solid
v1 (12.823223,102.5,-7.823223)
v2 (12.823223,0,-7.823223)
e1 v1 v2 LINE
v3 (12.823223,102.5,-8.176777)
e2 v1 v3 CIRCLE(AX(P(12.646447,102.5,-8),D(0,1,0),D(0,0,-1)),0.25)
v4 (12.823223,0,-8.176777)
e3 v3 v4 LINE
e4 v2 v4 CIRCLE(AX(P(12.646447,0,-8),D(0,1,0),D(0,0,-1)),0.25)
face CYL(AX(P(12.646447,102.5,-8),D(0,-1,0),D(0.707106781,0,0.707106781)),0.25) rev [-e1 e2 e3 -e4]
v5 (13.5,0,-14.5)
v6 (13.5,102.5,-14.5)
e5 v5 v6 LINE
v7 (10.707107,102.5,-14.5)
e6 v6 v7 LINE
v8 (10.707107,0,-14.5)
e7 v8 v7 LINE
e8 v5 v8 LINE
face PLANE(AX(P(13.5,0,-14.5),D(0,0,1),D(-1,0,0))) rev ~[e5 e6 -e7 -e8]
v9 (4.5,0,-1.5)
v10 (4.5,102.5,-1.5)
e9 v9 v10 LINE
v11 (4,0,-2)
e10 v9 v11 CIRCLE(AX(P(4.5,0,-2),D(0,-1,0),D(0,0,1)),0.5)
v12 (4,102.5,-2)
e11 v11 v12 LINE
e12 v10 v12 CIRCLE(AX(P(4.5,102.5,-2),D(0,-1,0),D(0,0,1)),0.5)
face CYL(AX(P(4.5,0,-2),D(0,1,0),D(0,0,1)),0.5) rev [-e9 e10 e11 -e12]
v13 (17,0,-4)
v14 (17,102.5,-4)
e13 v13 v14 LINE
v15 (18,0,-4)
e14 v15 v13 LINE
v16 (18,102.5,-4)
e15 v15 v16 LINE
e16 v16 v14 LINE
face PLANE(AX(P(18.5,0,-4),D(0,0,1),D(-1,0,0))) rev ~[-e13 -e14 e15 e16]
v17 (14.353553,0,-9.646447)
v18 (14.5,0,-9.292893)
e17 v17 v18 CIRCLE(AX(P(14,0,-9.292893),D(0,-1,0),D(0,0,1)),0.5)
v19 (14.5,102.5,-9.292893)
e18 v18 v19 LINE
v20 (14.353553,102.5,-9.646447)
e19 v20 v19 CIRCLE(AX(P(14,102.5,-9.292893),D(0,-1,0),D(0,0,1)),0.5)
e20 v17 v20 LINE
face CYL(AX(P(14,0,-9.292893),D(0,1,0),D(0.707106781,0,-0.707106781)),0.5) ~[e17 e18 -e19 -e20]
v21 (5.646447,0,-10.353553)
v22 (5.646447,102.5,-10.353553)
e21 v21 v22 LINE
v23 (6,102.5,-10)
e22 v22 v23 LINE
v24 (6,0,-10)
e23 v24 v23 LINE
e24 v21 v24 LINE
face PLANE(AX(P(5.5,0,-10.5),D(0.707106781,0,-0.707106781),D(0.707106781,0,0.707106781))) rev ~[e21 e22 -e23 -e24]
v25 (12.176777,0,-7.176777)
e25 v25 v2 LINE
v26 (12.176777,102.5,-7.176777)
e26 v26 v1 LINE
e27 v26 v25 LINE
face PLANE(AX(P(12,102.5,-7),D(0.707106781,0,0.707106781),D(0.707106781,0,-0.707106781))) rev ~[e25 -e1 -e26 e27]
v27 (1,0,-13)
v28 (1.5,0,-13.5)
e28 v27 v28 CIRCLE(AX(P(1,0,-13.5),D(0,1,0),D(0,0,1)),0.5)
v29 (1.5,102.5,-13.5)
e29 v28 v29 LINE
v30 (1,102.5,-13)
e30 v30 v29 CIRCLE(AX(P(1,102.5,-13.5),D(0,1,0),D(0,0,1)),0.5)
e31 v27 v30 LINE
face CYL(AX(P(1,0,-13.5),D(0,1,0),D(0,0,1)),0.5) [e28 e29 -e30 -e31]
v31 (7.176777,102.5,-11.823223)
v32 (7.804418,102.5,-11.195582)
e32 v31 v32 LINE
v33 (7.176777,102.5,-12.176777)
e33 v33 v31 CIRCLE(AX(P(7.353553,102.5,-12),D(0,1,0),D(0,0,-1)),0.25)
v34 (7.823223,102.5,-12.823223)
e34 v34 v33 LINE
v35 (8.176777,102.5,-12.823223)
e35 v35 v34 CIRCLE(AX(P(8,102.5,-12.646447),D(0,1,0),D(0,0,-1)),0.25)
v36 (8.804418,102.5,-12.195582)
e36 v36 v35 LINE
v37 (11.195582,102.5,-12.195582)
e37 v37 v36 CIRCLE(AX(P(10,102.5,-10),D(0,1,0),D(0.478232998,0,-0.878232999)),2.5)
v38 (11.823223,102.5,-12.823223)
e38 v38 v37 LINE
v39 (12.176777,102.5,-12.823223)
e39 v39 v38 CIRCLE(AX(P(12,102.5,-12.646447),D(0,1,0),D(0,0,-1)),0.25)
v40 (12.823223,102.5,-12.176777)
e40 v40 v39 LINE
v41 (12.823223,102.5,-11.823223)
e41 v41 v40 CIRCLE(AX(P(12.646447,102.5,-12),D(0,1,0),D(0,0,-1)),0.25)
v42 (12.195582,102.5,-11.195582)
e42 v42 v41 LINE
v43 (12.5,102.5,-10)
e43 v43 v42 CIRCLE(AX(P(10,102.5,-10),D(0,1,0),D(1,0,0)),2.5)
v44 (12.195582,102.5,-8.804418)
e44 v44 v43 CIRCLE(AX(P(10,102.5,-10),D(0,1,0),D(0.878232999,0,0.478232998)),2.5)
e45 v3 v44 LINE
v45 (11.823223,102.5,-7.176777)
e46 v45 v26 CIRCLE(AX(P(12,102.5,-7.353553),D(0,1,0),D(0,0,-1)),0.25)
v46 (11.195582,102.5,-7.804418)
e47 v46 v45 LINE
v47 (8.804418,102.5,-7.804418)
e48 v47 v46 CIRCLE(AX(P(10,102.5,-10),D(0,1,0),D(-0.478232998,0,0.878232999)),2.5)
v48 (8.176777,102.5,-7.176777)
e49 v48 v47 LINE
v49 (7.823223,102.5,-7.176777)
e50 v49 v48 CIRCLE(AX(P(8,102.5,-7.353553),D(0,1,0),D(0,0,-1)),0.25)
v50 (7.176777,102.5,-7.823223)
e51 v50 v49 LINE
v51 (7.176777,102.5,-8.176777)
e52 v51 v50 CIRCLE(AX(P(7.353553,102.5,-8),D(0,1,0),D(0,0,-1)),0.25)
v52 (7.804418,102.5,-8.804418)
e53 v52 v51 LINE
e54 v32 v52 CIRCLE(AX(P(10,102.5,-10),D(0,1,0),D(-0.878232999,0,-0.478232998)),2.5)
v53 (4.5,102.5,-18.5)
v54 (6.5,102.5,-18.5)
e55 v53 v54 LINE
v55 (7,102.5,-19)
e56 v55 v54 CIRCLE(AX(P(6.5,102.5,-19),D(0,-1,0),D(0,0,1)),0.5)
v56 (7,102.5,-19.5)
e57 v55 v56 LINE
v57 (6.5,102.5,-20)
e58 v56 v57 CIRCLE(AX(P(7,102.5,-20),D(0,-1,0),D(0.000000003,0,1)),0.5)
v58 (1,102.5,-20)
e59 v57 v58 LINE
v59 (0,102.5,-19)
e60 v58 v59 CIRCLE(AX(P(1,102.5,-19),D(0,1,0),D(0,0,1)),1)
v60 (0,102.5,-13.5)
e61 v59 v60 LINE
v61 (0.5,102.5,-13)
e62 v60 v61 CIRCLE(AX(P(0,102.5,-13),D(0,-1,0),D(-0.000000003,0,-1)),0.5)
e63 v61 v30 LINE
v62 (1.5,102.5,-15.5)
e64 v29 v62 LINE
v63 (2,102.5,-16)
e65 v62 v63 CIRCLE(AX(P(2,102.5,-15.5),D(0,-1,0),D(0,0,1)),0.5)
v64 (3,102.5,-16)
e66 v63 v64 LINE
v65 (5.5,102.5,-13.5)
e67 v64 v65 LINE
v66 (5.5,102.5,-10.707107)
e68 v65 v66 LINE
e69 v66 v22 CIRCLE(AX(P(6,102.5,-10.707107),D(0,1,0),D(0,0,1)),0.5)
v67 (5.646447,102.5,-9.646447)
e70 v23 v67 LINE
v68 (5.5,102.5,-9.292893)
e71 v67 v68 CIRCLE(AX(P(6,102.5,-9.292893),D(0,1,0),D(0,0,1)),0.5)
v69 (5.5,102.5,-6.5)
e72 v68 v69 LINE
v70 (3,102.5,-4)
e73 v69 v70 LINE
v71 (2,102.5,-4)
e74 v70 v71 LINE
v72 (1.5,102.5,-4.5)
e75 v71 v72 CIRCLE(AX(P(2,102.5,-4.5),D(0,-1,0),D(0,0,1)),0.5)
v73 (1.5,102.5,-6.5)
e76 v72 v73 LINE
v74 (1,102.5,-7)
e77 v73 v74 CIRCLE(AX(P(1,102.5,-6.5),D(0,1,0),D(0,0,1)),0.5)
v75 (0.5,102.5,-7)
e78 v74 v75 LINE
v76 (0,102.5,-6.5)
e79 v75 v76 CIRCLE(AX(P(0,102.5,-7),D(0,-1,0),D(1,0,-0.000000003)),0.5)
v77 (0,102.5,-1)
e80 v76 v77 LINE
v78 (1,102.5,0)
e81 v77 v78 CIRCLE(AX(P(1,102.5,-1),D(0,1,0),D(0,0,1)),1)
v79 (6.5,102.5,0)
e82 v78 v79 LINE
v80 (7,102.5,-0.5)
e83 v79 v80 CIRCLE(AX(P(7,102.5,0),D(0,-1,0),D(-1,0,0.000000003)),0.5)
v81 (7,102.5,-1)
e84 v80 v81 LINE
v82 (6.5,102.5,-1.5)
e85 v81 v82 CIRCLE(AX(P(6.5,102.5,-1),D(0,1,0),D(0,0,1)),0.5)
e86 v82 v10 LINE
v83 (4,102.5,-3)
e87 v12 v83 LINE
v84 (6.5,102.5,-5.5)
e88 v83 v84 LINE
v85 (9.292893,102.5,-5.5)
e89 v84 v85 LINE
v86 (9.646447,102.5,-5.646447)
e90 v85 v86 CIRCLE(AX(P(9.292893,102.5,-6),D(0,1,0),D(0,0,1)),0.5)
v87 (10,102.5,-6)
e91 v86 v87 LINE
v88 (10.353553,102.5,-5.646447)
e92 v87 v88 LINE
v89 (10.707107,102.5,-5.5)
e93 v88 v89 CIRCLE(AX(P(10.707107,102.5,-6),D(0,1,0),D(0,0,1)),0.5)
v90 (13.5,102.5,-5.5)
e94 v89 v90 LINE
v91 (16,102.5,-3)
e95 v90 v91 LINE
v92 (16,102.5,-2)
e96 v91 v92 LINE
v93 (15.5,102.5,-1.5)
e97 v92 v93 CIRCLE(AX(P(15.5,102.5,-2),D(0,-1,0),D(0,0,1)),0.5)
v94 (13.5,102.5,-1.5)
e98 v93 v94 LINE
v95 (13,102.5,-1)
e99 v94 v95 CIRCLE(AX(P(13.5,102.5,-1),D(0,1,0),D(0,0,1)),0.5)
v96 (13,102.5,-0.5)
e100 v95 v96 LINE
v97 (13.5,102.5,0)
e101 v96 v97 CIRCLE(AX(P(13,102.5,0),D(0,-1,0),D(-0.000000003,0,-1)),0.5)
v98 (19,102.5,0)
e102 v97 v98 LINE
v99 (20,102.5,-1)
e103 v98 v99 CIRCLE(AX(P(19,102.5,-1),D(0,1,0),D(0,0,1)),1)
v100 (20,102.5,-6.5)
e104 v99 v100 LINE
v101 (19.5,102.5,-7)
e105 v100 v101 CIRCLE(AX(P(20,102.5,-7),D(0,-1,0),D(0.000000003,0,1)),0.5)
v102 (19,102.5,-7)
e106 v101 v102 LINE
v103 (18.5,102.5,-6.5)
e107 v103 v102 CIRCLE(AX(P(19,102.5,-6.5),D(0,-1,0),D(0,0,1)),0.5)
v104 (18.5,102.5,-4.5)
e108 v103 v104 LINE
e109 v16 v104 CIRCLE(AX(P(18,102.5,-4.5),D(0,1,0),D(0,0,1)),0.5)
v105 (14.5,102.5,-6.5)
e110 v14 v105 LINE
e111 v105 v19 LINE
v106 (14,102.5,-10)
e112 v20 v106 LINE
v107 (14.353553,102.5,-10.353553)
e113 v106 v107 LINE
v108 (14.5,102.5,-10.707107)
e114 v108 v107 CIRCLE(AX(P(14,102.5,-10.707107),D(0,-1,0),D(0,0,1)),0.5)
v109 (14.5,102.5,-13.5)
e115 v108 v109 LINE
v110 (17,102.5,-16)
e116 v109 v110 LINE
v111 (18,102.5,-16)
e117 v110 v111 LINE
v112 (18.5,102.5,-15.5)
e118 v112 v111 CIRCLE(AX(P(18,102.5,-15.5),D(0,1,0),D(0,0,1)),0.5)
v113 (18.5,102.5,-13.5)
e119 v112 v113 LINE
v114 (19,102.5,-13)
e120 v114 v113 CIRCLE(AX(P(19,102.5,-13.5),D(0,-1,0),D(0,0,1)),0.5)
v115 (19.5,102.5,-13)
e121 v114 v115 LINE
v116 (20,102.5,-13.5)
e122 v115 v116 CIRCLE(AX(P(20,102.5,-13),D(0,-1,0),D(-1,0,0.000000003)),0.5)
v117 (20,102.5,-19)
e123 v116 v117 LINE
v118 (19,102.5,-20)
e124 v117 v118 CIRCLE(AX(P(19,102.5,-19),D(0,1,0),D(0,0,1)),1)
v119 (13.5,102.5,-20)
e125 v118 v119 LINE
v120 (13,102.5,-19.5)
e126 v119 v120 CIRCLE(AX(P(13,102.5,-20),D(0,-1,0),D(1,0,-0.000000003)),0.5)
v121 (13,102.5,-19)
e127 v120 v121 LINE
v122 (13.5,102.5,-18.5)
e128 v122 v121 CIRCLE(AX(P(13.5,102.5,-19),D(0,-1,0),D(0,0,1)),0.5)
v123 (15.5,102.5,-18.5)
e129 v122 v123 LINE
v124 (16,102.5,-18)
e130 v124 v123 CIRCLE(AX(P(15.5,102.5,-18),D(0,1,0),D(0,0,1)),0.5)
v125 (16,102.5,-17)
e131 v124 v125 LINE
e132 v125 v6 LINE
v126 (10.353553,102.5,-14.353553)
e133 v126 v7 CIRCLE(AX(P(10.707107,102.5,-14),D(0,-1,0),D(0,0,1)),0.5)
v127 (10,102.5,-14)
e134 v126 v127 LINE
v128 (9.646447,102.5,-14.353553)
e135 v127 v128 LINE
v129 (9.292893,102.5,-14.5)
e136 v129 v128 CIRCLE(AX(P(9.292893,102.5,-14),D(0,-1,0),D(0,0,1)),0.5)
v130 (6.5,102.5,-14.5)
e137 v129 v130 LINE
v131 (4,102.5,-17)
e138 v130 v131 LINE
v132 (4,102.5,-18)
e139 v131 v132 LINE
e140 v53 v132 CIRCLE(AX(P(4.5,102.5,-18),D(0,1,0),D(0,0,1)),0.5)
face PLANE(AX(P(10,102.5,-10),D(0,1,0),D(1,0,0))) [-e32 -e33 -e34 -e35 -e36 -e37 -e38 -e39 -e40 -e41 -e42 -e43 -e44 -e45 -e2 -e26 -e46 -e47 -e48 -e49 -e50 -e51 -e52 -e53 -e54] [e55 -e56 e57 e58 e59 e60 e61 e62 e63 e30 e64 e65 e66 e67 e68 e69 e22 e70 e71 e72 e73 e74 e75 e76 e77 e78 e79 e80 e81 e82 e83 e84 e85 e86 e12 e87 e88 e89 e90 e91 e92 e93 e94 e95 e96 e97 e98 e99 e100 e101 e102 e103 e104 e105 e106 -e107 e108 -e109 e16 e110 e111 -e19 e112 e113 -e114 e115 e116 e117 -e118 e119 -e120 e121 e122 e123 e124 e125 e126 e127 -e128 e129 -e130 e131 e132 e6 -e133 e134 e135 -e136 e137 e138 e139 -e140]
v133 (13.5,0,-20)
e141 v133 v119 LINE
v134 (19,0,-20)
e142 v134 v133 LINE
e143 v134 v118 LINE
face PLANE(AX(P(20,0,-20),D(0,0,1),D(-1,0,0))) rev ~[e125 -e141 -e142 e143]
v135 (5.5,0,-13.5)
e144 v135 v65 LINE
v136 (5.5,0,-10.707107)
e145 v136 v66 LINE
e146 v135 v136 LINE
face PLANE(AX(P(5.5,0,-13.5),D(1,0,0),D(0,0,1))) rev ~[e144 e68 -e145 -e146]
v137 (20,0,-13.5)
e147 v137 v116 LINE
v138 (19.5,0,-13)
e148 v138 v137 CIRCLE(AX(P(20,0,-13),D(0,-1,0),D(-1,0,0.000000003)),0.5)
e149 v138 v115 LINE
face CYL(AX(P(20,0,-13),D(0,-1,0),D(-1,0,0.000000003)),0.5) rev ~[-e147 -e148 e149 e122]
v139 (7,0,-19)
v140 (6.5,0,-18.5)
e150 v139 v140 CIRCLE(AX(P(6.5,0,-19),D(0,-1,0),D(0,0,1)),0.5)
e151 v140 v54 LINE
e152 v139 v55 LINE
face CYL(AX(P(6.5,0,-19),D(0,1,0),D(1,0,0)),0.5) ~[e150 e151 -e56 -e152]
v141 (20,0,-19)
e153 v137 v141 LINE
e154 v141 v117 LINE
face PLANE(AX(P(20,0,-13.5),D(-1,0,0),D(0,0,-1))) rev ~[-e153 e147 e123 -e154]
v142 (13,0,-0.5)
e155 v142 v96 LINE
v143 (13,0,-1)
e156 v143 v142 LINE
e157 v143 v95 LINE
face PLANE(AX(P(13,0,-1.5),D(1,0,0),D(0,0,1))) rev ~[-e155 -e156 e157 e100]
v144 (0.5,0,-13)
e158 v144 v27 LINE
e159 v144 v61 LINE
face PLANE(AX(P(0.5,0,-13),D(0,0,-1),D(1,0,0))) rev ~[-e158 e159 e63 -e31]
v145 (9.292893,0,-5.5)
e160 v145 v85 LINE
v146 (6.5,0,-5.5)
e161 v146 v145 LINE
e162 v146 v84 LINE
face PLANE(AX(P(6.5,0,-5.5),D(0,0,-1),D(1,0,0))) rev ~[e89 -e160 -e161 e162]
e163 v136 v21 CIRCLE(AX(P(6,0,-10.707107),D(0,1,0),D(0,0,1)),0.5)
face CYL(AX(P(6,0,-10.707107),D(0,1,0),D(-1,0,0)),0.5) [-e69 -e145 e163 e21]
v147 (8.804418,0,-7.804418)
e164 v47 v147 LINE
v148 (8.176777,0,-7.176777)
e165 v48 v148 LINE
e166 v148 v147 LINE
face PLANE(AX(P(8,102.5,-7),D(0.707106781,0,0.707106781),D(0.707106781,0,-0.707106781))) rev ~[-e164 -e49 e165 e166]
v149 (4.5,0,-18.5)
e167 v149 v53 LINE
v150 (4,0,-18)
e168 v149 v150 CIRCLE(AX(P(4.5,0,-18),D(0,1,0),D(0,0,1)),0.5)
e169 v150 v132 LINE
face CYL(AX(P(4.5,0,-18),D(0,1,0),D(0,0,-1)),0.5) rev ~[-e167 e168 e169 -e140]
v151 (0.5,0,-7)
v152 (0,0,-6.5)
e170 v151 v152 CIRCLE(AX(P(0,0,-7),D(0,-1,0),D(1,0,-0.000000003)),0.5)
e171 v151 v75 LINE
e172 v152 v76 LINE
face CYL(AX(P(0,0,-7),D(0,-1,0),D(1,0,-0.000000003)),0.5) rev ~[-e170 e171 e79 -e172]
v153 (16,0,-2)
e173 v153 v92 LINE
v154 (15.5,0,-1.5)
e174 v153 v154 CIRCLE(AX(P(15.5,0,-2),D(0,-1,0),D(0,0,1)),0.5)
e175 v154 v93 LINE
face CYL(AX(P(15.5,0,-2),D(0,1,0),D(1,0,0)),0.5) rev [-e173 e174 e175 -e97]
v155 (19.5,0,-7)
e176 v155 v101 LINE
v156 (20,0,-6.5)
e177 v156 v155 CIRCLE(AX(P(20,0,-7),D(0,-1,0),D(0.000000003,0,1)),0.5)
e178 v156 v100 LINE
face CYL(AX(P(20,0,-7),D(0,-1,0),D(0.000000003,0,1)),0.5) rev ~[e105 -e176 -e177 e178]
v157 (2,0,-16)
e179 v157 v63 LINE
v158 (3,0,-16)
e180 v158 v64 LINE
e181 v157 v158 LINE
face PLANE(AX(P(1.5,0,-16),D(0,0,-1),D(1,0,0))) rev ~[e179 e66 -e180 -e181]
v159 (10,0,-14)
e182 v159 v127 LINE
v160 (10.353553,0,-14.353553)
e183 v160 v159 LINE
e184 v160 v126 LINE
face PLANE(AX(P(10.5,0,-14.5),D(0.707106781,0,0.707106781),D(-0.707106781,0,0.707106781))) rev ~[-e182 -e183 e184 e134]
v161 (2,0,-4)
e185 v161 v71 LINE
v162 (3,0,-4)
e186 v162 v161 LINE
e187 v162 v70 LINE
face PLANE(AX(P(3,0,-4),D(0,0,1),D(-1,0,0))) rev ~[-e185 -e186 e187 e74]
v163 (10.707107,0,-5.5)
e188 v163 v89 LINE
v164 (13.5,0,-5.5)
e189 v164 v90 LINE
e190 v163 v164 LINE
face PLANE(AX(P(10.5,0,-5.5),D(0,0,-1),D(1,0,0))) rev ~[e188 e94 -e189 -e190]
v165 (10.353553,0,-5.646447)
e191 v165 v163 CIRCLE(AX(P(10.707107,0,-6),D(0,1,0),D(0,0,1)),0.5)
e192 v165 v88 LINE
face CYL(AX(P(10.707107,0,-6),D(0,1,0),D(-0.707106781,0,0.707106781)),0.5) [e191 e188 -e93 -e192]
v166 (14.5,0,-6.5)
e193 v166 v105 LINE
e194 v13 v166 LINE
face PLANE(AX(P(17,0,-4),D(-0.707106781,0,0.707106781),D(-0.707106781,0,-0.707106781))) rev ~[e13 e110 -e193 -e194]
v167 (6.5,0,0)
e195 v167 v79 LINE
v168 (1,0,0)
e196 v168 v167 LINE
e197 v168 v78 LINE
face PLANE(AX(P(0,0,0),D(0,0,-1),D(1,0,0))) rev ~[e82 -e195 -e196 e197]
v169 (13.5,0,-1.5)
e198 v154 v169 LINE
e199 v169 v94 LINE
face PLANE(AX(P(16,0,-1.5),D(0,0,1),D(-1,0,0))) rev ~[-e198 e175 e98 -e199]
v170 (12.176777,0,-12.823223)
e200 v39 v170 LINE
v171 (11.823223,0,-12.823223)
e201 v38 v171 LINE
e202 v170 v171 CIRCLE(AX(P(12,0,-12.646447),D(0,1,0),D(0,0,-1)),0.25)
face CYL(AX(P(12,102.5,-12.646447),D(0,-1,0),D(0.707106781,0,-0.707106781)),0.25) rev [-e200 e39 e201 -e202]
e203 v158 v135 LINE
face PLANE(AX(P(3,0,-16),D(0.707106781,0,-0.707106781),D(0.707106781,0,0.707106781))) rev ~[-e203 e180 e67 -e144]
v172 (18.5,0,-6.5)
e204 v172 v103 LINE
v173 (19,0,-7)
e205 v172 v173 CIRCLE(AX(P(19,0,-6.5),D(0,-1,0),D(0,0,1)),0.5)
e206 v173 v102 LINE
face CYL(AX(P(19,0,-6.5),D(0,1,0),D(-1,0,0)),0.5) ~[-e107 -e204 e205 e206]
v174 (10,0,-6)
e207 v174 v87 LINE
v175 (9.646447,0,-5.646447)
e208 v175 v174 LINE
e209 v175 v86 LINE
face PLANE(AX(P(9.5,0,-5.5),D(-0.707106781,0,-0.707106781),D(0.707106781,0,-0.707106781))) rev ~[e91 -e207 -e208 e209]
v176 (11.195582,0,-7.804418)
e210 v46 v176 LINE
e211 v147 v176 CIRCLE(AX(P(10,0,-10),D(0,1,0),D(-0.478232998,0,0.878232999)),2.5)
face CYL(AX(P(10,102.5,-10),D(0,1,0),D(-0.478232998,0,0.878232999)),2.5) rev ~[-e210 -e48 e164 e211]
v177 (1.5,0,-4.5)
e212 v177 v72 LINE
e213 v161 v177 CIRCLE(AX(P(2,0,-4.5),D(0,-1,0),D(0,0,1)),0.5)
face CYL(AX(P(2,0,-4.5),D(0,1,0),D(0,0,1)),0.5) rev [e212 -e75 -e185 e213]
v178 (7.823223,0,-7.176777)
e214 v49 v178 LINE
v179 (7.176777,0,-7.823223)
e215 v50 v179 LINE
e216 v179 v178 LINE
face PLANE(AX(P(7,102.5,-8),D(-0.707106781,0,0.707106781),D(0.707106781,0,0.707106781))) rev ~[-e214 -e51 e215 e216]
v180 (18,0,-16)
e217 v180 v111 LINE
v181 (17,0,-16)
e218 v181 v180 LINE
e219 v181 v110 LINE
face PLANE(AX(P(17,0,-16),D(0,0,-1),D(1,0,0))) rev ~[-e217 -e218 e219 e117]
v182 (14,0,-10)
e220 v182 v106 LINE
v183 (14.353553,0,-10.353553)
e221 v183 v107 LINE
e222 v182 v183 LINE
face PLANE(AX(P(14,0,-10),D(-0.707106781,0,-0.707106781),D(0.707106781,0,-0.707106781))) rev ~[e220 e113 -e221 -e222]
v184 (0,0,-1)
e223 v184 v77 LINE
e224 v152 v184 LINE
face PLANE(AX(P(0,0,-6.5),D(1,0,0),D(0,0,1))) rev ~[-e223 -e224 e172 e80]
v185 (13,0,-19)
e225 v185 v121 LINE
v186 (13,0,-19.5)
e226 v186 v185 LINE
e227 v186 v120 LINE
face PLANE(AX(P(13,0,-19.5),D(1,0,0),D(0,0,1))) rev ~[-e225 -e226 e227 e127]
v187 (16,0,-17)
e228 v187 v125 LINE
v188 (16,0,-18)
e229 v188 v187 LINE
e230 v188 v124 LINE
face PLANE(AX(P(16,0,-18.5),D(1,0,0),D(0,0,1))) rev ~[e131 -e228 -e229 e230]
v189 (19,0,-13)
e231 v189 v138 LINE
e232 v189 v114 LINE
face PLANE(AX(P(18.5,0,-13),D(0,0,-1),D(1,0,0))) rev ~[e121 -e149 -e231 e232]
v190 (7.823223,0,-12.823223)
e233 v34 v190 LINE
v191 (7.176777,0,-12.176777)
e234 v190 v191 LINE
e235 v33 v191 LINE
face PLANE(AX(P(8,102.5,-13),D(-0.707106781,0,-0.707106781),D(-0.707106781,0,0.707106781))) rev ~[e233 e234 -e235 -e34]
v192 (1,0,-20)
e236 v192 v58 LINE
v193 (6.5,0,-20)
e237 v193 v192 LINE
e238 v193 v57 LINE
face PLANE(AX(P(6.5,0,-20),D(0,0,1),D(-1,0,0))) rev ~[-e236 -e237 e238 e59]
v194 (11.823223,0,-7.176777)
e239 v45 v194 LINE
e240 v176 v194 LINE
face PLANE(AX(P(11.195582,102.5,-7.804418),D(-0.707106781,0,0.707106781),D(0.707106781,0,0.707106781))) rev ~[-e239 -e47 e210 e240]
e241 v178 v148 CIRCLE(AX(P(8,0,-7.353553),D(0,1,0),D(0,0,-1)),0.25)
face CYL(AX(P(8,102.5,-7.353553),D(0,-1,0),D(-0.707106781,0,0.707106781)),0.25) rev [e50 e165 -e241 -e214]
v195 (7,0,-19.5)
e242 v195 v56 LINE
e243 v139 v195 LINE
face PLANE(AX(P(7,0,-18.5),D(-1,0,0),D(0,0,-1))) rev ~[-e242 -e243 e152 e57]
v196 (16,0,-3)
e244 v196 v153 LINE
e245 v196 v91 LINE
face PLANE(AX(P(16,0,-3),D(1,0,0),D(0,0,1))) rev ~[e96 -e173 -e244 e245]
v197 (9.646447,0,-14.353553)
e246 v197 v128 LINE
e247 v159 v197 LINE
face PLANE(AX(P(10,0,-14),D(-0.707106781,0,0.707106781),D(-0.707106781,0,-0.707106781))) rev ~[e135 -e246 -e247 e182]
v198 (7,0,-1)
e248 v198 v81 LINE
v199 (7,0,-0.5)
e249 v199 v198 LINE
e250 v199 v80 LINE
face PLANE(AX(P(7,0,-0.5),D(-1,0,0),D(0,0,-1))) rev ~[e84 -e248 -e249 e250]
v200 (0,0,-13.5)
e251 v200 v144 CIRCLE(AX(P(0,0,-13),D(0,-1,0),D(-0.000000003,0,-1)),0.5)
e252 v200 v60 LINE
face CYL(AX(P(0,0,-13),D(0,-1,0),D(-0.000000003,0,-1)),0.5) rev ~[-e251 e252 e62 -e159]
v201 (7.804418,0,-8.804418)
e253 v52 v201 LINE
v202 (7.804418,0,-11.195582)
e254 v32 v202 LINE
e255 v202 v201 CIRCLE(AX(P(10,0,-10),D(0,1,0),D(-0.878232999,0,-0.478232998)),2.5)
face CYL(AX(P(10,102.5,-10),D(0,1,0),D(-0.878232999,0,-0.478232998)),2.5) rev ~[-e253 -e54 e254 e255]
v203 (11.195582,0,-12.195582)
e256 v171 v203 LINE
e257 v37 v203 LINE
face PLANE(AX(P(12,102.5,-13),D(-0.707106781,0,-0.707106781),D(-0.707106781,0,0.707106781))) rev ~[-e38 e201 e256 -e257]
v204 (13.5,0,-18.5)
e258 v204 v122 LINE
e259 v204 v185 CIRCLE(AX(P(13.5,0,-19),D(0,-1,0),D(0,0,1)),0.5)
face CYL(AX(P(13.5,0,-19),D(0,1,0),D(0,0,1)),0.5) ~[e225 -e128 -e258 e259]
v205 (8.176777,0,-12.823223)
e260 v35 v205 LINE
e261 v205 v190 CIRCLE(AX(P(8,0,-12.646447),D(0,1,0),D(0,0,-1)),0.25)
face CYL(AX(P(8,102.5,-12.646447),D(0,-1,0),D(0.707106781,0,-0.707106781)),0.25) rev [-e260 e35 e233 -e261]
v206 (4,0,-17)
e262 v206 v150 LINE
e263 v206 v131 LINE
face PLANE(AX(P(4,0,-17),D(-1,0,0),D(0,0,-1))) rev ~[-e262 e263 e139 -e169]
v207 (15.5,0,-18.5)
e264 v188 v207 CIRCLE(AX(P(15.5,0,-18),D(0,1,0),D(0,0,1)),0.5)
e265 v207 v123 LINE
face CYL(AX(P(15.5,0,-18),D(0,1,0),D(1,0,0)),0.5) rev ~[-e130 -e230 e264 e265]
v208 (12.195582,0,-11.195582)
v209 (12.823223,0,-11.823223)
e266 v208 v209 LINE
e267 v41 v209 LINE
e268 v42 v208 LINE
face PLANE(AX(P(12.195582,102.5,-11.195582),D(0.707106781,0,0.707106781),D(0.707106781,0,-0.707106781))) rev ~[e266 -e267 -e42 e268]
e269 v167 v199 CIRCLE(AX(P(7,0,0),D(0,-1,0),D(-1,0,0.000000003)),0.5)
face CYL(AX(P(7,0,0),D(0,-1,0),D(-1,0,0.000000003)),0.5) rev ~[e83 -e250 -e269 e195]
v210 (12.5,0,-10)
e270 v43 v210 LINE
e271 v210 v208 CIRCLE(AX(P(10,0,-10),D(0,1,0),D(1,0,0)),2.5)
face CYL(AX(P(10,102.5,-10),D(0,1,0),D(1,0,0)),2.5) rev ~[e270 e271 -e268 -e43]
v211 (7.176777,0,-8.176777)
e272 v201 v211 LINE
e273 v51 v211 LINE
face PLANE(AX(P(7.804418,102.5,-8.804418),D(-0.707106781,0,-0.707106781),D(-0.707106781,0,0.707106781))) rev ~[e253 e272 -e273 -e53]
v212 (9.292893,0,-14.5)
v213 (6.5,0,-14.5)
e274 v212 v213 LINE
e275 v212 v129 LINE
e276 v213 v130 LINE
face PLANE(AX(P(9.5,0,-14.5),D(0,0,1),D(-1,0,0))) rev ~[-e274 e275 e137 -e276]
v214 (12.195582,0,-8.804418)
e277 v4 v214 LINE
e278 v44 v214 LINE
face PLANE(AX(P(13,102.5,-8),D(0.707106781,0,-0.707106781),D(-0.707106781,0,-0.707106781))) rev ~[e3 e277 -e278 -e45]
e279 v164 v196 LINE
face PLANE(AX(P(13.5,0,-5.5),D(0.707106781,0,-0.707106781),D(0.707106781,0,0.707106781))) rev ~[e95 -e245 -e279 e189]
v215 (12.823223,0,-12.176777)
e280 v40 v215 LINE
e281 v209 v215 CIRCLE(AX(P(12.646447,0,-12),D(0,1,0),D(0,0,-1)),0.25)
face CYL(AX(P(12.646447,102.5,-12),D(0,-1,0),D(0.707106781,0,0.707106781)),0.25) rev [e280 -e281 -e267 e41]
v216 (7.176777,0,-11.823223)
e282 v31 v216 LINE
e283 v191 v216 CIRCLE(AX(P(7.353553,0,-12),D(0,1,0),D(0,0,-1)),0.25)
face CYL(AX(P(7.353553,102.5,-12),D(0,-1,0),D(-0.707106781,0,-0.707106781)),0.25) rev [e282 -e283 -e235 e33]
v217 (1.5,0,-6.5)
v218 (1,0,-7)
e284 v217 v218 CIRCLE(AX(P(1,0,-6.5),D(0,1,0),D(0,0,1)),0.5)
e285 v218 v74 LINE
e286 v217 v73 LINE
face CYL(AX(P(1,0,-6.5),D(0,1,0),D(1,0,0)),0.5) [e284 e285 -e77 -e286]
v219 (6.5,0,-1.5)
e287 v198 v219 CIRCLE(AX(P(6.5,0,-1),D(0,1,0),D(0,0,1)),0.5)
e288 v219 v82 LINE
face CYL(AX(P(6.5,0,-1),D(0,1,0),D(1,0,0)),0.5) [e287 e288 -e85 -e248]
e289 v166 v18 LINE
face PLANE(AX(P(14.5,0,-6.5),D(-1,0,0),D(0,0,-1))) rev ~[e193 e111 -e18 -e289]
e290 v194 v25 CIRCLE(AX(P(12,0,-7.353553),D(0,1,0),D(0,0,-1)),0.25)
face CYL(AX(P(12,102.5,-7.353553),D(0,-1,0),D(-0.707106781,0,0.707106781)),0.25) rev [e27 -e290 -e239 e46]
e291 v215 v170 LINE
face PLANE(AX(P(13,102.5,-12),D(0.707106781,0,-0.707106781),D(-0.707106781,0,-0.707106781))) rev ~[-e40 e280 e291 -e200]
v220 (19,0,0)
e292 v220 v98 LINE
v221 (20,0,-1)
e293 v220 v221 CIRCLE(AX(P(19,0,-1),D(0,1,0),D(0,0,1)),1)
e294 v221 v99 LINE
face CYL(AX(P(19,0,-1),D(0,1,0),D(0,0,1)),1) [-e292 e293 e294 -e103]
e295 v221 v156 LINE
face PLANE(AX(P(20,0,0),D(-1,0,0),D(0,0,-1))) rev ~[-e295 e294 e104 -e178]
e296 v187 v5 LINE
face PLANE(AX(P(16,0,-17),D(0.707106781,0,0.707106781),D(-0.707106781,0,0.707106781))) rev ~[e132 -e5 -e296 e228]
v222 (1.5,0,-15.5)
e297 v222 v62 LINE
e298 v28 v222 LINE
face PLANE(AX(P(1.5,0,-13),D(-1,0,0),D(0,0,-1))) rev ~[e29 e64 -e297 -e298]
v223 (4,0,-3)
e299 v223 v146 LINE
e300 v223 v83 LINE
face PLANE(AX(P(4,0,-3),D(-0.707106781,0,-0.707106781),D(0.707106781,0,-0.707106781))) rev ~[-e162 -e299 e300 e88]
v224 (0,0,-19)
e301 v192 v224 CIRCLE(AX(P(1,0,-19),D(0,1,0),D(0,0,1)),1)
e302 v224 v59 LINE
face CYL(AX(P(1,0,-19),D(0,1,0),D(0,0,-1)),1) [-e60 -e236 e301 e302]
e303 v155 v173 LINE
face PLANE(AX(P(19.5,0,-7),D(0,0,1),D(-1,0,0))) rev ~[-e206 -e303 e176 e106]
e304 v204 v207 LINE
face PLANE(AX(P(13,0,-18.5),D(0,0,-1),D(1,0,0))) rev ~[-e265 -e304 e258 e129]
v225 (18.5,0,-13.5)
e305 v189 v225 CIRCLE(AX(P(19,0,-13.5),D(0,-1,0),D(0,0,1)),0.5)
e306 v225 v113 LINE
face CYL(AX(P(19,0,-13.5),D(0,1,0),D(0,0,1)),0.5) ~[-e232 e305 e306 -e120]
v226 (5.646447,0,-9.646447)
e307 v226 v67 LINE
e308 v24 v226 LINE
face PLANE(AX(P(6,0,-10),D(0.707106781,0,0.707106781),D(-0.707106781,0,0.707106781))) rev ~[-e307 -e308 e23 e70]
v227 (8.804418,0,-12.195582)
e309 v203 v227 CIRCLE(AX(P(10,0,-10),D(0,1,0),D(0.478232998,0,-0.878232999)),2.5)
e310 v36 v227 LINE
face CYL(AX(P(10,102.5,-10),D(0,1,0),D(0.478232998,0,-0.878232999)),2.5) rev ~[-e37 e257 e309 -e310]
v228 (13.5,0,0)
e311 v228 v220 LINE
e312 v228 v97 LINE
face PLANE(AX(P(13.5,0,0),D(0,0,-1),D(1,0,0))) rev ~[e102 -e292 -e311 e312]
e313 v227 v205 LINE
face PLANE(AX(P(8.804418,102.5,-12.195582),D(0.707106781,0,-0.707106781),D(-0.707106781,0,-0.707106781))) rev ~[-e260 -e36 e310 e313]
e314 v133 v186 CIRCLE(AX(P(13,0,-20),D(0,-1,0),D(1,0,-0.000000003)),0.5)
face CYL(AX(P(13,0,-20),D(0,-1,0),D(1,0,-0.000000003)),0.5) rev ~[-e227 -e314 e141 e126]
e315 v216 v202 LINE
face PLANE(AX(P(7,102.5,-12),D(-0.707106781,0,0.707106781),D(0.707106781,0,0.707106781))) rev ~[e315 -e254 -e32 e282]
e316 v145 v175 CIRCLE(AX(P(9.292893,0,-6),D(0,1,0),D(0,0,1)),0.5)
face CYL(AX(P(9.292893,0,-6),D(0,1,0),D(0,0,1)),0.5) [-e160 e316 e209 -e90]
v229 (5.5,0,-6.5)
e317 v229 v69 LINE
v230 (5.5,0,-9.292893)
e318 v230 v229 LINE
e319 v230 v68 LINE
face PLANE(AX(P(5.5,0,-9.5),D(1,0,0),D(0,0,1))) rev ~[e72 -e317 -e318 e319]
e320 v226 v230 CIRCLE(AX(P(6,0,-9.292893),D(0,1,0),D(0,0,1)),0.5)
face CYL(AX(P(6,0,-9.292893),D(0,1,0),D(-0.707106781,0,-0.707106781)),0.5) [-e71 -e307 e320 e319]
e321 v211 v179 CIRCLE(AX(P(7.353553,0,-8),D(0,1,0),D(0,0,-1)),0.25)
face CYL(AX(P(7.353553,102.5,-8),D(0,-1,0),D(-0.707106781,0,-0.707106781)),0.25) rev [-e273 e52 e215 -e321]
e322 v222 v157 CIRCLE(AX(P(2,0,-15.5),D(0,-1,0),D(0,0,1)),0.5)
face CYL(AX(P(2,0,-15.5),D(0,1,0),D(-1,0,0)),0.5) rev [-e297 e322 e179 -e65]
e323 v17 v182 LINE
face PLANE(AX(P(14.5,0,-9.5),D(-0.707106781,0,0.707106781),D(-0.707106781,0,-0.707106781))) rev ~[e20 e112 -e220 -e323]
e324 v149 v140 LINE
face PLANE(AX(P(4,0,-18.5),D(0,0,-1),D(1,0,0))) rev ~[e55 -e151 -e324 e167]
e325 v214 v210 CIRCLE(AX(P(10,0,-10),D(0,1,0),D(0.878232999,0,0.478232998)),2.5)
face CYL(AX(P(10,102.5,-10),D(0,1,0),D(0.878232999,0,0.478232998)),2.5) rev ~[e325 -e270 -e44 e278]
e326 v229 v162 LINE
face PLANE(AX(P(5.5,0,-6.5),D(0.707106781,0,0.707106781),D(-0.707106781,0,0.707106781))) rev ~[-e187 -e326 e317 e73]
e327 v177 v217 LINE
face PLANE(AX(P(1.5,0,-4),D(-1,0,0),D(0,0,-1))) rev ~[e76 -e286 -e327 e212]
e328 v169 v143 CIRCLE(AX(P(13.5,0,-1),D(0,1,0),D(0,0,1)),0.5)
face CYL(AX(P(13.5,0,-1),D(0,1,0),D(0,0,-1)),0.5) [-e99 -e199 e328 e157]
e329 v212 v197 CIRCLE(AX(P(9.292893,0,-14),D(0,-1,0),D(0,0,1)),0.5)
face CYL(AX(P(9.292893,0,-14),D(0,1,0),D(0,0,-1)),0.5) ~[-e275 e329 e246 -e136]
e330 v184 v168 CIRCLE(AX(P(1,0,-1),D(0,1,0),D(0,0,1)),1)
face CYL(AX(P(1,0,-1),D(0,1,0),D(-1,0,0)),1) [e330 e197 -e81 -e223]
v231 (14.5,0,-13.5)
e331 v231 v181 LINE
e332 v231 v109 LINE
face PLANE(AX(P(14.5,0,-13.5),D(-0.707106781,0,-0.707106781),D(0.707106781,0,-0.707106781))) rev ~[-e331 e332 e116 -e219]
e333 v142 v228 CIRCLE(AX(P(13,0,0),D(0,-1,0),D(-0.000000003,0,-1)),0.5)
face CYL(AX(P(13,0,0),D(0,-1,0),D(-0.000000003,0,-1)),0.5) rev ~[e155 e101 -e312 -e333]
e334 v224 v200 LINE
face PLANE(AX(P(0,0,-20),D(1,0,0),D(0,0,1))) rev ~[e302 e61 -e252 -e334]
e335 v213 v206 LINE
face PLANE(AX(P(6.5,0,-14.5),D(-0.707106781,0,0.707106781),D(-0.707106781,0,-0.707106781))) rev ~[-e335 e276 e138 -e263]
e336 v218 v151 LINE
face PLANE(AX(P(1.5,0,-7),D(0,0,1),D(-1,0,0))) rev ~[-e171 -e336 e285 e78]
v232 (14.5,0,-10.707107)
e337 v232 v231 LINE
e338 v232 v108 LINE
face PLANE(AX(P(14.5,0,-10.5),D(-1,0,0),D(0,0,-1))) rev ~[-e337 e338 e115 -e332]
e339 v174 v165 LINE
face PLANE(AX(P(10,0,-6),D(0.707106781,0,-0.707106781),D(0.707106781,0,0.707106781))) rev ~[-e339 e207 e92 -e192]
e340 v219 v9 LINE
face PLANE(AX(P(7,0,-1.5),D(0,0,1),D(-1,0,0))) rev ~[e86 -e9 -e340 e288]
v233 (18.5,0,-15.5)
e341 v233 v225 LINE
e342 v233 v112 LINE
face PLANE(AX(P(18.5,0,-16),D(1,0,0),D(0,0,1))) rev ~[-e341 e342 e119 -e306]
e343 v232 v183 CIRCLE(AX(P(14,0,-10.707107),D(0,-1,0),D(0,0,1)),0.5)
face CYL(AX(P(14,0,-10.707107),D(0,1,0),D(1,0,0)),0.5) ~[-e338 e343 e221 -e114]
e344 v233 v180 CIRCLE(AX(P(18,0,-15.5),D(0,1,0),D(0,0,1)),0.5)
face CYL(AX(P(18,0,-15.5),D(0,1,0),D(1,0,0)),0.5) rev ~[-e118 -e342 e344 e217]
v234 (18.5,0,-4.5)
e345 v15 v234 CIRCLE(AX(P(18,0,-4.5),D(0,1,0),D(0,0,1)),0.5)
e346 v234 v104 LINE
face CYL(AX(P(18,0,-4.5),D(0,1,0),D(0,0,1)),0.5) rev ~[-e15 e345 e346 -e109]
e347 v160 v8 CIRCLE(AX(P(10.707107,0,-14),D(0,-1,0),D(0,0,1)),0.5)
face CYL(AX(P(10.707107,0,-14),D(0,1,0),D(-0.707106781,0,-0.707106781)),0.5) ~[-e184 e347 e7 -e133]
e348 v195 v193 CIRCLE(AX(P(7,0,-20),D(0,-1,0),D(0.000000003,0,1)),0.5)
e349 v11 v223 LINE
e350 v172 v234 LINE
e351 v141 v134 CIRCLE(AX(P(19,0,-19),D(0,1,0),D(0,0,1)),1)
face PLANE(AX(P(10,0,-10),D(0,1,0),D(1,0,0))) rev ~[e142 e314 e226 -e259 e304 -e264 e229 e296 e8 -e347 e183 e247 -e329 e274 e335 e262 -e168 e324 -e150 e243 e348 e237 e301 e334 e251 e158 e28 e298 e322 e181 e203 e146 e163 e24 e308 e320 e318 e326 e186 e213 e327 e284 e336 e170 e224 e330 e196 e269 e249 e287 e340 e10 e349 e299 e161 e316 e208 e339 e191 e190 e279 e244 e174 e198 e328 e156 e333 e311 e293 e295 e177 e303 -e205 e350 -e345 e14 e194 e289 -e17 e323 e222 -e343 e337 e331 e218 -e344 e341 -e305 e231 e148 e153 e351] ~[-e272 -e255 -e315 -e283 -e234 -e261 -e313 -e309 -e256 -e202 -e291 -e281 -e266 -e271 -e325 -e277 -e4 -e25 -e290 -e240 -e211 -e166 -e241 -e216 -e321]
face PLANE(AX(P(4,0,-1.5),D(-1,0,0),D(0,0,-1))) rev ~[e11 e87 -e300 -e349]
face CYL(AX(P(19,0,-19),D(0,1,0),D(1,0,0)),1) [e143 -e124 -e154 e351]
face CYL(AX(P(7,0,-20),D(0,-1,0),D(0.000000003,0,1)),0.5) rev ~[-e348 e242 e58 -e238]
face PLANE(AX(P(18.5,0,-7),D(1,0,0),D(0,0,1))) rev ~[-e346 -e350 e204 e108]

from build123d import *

# Parameters (mm, degrees)
BOSS_EXTRUDE1_DEPTH = 102.5
FILLET1_R           = 1
CUT_EXTRUDE1_DEPTH  = 103.5
FILLET2_R           = 0.5
FILLET3_R           = 0.25


with BuildPart() as part:
    # Sketch3 → Boss-Extrude1 (new body)
    with BuildSketch(Plane(origin=(0, 0, 0), x_dir=(1, 0, 0), z_dir=(0, 1, 0))):
        with BuildLine():
            Line((7, 18.5), (7, 19.5))
            ThreePointArc((7, 19.5), (6.646446609, 19.646446609), (6.5, 20))
            Line((6.5, 20), (0, 20))
            Line((0, 20), (0, 13.5))
            ThreePointArc((0, 13.5), (0.353553391, 13.353553391), (0.5, 13))
            Line((0.5, 13), (1.5, 13))
            Line((1.5, 13), (1.5, 16))
            Line((1.5, 16), (3, 16))
            Line((3, 16), (5.5, 13.5))
            Line((5.5, 13.5), (5.5, 10.5))
            Line((5.5, 10.5), (6, 10))
            Line((6, 10), (5.5, 9.5))
            Line((5.5, 9.5), (5.5, 6.5))
            Line((5.5, 6.5), (3, 4))
            Line((3, 4), (1.5, 4))
            Line((1.5, 4), (1.5, 7))
            Line((1.5, 7), (0.5, 7))
            ThreePointArc((0.5, 7), (0.353553391, 6.646446609), (0, 6.5))
            Line((0, 6.5), (0, 0))
            Line((0, 0), (6.5, 0))
            ThreePointArc((6.5, 0), (6.646446609, 0.353553391), (7, 0.5))
            Line((7, 0.5), (7, 1.5))
            Line((7, 1.5), (4, 1.5))
            Line((4, 1.5), (4, 3))
            Line((4, 3), (6.5, 5.5))
            Line((6.5, 5.5), (9.5, 5.5))
            Line((9.5, 5.5), (10, 6))
            Line((10, 6), (10.5, 5.5))
            Line((10.5, 5.5), (13.5, 5.5))
            Line((13.5, 5.5), (16, 3))
            Line((16, 3), (16, 1.5))
            Line((16, 1.5), (13, 1.5))
            Line((13, 1.5), (13, 0.5))
            ThreePointArc((13, 0.5), (13.353553391, 0.353553391), (13.5, 0))
            Line((13.5, 0), (20, 0))
            Line((20, 0), (20, 6.5))
            ThreePointArc((20, 6.5), (19.646446609, 6.646446609), (19.5, 7))
            Line((19.5, 7), (18.5, 7))
            Line((18.5, 7), (18.5, 4))
            Line((18.5, 4), (17, 4))
            Line((17, 4), (14.5, 6.5))
            Line((14.5, 6.5), (14.5, 9.5))
            Line((14.5, 9.5), (14, 10))
            Line((14, 10), (14.5, 10.5))
            Line((14.5, 10.5), (14.5, 13.5))
            Line((14.5, 13.5), (17, 16))
            Line((17, 16), (18.5, 16))
            Line((18.5, 16), (18.5, 13))
            Line((18.5, 13), (19.5, 13))
            ThreePointArc((19.5, 13), (19.646446609, 13.353553391), (20, 13.5))
            Line((20, 13.5), (20, 20))
            Line((20, 20), (13.5, 20))
            ThreePointArc((13.5, 20), (13.353553391, 19.646446609), (13, 19.5))
            Line((13, 19.5), (13, 18.5))
            Line((13, 18.5), (16, 18.5))
            Line((16, 18.5), (16, 17))
            Line((16, 17), (13.5, 14.5))
            Line((13.5, 14.5), (10.5, 14.5))
            Line((10.5, 14.5), (10, 14))
            Line((10, 14), (9.5, 14.5))
            Line((9.5, 14.5), (6.5, 14.5))
            Line((6.5, 14.5), (4, 17))
            Line((4, 17), (4, 18.5))
            Line((4, 18.5), (7, 18.5))
        make_face()
    extrude(amount=BOSS_EXTRUDE1_DEPTH)

    # Fillet1
    fillet1_edges = [part.edges().sort_by_distance(p)[0] for p in [
        (20, 51.25, 0),
        (0, 51.25, 0),
        (0, 51.25, -20),
        (20, 51.25, -20),
    ]]
    fillet(fillet1_edges, radius=FILLET1_R)

    # Sketch4 → Cut-Extrude1 (cut, through all)
    with BuildSketch(Plane(origin=(0, 102.5, 0), x_dir=(1, 0, 0), z_dir=(0, 1, 0))):
        with BuildLine():
            Line((10, 11), (11.195582496, 12.195582496))
            ThreePointArc((11.195582496, 12.195582496), (10, 12.5), (8.804417504, 12.195582496))
            Line((8.804417504, 12.195582496), (10, 11))
        make_face()
        with BuildLine():
            ThreePointArc((12.195582496, 11.195582496), (11.767766953, 11.767766953), (11.195582496, 12.195582496))
            Line((11.195582496, 12.195582496), (10, 11))
            Line((10, 11), (11, 10))
            Line((11, 10), (12.195582496, 11.195582496))
        make_face()
        with BuildLine():
            Line((9, 10), (10, 11))
            Line((10, 11), (8.804417504, 12.195582496))
            ThreePointArc((8.804417504, 12.195582496), (8.232233047, 11.767766953), (7.804417504, 11.195582496))
            Line((7.804417504, 11.195582496), (9, 10))
        make_face()
        Polygon((11, 10), (10, 11), (9, 10), (10, 9), align=None)
        with BuildLine():
            Line((7.804417504, 8.804417504), (9, 10))
            Line((9, 10), (7.804417504, 11.195582496))
            ThreePointArc((7.804417504, 11.195582496), (7.5, 10), (7.804417504, 8.804417504))
        make_face()
        with BuildLine():
            Line((10, 9), (9, 10))
            Line((9, 10), (7.804417504, 8.804417504))
            ThreePointArc((7.804417504, 8.804417504), (8.232233047, 8.232233047), (8.804417504, 7.804417504))
            Line((8.804417504, 7.804417504), (10, 9))
        make_face()
        with BuildLine():
            Line((11.195582496, 7.804417504), (10, 9))
            Line((10, 9), (8.804417504, 7.804417504))
            ThreePointArc((8.804417504, 7.804417504), (10, 7.5), (11.195582496, 7.804417504))
        make_face()
        with BuildLine():
            Line((12.195582496, 8.804417504), (11, 10))
            Line((11, 10), (10, 9))
            Line((10, 9), (11.195582496, 7.804417504))
            ThreePointArc((11.195582496, 7.804417504), (11.767766953, 8.232233047), (12.195582496, 8.804417504))
        make_face()
        with BuildLine():
            ThreePointArc((12.5, 10), (12.422700584, 10.616864556), (12.195582496, 11.195582496))
            Line((12.195582496, 11.195582496), (11, 10))
            Line((11, 10), (12.195582496, 8.804417504))
            ThreePointArc((12.195582496, 8.804417504), (12.422700584, 9.383135444), (12.5, 10))
        make_face()
        with BuildLine():
            ThreePointArc((8.804417504, 7.804417504), (8.232233047, 8.232233047), (7.804417504, 8.804417504))
            Line((7.804417504, 8.804417504), (7, 8))
            Line((7, 8), (8, 7))
            Line((8, 7), (8.804417504, 7.804417504))
        make_face()
        with BuildLine():
            Line((13, 8), (12.195582496, 8.804417504))
            ThreePointArc((12.195582496, 8.804417504), (11.767766953, 8.232233047), (11.195582496, 7.804417504))
            Line((11.195582496, 7.804417504), (12, 7))
            Line((12, 7), (13, 8))
        make_face()
        with BuildLine():
            Line((13, 12), (12, 13))
            Line((12, 13), (11.195582496, 12.195582496))
            ThreePointArc((11.195582496, 12.195582496), (11.767766953, 11.767766953), (12.195582496, 11.195582496))
            Line((12.195582496, 11.195582496), (13, 12))
        make_face()
        with BuildLine():
            ThreePointArc((7.804417504, 11.195582496), (8.232233047, 11.767766953), (8.804417504, 12.195582496))
            Line((8.804417504, 12.195582496), (8, 13))
            Line((8, 13), (7, 12))
            Line((7, 12), (7.804417504, 11.195582496))
        make_face()
    extrude(amount=-CUT_EXTRUDE1_DEPTH, mode=Mode.SUBTRACT)

    # Fillet2
    fillet2_edges = [part.edges().sort_by_distance(p)[0] for p in [
        (18.5, 51.25, -13),
        (18.5, 51.25, -16),
        (14.5, 51.25, -10.5),
        (14.5, 51.25, -9.5),
        (18.5, 51.25, -4),
        (18.5, 51.25, -7),
        (13, 51.25, -1.5),
        (16, 51.25, -1.5),
        (10.5, 51.25, -5.5),
        (9.5, 51.25, -5.5),
        (4, 51.25, -1.5),
        (7, 51.25, -1.5),
        (1.5, 51.25, -7),
        (1.5, 51.25, -4),
        (5.5, 51.25, -9.5),
        (5.5, 51.25, -10.5),
        (1.5, 51.25, -16),
        (1.5, 51.25, -13),
        (7, 51.25, -18.5),
        (4, 51.25, -18.5),
        (9.5, 51.25, -14.5),
        (10.5, 51.25, -14.5),
        (16, 51.25, -18.5),
        (13, 51.25, -18.5),
    ]]
    fillet(fillet2_edges, radius=FILLET2_R)

    # Fillet3
    fillet3_edges = [part.edges().sort_by_distance(p)[0] for p in [
        (7, 51.25, -12),
        (8, 51.25, -13),
        (12, 51.25, -13),
        (13, 51.25, -12),
        (13, 51.25, -8),
        (12, 51.25, -7),
        (8, 51.25, -7),
        (7, 51.25, -8),
    ]]
    fillet(fillet3_edges, radius=FILLET3_R)


solid = part.part
